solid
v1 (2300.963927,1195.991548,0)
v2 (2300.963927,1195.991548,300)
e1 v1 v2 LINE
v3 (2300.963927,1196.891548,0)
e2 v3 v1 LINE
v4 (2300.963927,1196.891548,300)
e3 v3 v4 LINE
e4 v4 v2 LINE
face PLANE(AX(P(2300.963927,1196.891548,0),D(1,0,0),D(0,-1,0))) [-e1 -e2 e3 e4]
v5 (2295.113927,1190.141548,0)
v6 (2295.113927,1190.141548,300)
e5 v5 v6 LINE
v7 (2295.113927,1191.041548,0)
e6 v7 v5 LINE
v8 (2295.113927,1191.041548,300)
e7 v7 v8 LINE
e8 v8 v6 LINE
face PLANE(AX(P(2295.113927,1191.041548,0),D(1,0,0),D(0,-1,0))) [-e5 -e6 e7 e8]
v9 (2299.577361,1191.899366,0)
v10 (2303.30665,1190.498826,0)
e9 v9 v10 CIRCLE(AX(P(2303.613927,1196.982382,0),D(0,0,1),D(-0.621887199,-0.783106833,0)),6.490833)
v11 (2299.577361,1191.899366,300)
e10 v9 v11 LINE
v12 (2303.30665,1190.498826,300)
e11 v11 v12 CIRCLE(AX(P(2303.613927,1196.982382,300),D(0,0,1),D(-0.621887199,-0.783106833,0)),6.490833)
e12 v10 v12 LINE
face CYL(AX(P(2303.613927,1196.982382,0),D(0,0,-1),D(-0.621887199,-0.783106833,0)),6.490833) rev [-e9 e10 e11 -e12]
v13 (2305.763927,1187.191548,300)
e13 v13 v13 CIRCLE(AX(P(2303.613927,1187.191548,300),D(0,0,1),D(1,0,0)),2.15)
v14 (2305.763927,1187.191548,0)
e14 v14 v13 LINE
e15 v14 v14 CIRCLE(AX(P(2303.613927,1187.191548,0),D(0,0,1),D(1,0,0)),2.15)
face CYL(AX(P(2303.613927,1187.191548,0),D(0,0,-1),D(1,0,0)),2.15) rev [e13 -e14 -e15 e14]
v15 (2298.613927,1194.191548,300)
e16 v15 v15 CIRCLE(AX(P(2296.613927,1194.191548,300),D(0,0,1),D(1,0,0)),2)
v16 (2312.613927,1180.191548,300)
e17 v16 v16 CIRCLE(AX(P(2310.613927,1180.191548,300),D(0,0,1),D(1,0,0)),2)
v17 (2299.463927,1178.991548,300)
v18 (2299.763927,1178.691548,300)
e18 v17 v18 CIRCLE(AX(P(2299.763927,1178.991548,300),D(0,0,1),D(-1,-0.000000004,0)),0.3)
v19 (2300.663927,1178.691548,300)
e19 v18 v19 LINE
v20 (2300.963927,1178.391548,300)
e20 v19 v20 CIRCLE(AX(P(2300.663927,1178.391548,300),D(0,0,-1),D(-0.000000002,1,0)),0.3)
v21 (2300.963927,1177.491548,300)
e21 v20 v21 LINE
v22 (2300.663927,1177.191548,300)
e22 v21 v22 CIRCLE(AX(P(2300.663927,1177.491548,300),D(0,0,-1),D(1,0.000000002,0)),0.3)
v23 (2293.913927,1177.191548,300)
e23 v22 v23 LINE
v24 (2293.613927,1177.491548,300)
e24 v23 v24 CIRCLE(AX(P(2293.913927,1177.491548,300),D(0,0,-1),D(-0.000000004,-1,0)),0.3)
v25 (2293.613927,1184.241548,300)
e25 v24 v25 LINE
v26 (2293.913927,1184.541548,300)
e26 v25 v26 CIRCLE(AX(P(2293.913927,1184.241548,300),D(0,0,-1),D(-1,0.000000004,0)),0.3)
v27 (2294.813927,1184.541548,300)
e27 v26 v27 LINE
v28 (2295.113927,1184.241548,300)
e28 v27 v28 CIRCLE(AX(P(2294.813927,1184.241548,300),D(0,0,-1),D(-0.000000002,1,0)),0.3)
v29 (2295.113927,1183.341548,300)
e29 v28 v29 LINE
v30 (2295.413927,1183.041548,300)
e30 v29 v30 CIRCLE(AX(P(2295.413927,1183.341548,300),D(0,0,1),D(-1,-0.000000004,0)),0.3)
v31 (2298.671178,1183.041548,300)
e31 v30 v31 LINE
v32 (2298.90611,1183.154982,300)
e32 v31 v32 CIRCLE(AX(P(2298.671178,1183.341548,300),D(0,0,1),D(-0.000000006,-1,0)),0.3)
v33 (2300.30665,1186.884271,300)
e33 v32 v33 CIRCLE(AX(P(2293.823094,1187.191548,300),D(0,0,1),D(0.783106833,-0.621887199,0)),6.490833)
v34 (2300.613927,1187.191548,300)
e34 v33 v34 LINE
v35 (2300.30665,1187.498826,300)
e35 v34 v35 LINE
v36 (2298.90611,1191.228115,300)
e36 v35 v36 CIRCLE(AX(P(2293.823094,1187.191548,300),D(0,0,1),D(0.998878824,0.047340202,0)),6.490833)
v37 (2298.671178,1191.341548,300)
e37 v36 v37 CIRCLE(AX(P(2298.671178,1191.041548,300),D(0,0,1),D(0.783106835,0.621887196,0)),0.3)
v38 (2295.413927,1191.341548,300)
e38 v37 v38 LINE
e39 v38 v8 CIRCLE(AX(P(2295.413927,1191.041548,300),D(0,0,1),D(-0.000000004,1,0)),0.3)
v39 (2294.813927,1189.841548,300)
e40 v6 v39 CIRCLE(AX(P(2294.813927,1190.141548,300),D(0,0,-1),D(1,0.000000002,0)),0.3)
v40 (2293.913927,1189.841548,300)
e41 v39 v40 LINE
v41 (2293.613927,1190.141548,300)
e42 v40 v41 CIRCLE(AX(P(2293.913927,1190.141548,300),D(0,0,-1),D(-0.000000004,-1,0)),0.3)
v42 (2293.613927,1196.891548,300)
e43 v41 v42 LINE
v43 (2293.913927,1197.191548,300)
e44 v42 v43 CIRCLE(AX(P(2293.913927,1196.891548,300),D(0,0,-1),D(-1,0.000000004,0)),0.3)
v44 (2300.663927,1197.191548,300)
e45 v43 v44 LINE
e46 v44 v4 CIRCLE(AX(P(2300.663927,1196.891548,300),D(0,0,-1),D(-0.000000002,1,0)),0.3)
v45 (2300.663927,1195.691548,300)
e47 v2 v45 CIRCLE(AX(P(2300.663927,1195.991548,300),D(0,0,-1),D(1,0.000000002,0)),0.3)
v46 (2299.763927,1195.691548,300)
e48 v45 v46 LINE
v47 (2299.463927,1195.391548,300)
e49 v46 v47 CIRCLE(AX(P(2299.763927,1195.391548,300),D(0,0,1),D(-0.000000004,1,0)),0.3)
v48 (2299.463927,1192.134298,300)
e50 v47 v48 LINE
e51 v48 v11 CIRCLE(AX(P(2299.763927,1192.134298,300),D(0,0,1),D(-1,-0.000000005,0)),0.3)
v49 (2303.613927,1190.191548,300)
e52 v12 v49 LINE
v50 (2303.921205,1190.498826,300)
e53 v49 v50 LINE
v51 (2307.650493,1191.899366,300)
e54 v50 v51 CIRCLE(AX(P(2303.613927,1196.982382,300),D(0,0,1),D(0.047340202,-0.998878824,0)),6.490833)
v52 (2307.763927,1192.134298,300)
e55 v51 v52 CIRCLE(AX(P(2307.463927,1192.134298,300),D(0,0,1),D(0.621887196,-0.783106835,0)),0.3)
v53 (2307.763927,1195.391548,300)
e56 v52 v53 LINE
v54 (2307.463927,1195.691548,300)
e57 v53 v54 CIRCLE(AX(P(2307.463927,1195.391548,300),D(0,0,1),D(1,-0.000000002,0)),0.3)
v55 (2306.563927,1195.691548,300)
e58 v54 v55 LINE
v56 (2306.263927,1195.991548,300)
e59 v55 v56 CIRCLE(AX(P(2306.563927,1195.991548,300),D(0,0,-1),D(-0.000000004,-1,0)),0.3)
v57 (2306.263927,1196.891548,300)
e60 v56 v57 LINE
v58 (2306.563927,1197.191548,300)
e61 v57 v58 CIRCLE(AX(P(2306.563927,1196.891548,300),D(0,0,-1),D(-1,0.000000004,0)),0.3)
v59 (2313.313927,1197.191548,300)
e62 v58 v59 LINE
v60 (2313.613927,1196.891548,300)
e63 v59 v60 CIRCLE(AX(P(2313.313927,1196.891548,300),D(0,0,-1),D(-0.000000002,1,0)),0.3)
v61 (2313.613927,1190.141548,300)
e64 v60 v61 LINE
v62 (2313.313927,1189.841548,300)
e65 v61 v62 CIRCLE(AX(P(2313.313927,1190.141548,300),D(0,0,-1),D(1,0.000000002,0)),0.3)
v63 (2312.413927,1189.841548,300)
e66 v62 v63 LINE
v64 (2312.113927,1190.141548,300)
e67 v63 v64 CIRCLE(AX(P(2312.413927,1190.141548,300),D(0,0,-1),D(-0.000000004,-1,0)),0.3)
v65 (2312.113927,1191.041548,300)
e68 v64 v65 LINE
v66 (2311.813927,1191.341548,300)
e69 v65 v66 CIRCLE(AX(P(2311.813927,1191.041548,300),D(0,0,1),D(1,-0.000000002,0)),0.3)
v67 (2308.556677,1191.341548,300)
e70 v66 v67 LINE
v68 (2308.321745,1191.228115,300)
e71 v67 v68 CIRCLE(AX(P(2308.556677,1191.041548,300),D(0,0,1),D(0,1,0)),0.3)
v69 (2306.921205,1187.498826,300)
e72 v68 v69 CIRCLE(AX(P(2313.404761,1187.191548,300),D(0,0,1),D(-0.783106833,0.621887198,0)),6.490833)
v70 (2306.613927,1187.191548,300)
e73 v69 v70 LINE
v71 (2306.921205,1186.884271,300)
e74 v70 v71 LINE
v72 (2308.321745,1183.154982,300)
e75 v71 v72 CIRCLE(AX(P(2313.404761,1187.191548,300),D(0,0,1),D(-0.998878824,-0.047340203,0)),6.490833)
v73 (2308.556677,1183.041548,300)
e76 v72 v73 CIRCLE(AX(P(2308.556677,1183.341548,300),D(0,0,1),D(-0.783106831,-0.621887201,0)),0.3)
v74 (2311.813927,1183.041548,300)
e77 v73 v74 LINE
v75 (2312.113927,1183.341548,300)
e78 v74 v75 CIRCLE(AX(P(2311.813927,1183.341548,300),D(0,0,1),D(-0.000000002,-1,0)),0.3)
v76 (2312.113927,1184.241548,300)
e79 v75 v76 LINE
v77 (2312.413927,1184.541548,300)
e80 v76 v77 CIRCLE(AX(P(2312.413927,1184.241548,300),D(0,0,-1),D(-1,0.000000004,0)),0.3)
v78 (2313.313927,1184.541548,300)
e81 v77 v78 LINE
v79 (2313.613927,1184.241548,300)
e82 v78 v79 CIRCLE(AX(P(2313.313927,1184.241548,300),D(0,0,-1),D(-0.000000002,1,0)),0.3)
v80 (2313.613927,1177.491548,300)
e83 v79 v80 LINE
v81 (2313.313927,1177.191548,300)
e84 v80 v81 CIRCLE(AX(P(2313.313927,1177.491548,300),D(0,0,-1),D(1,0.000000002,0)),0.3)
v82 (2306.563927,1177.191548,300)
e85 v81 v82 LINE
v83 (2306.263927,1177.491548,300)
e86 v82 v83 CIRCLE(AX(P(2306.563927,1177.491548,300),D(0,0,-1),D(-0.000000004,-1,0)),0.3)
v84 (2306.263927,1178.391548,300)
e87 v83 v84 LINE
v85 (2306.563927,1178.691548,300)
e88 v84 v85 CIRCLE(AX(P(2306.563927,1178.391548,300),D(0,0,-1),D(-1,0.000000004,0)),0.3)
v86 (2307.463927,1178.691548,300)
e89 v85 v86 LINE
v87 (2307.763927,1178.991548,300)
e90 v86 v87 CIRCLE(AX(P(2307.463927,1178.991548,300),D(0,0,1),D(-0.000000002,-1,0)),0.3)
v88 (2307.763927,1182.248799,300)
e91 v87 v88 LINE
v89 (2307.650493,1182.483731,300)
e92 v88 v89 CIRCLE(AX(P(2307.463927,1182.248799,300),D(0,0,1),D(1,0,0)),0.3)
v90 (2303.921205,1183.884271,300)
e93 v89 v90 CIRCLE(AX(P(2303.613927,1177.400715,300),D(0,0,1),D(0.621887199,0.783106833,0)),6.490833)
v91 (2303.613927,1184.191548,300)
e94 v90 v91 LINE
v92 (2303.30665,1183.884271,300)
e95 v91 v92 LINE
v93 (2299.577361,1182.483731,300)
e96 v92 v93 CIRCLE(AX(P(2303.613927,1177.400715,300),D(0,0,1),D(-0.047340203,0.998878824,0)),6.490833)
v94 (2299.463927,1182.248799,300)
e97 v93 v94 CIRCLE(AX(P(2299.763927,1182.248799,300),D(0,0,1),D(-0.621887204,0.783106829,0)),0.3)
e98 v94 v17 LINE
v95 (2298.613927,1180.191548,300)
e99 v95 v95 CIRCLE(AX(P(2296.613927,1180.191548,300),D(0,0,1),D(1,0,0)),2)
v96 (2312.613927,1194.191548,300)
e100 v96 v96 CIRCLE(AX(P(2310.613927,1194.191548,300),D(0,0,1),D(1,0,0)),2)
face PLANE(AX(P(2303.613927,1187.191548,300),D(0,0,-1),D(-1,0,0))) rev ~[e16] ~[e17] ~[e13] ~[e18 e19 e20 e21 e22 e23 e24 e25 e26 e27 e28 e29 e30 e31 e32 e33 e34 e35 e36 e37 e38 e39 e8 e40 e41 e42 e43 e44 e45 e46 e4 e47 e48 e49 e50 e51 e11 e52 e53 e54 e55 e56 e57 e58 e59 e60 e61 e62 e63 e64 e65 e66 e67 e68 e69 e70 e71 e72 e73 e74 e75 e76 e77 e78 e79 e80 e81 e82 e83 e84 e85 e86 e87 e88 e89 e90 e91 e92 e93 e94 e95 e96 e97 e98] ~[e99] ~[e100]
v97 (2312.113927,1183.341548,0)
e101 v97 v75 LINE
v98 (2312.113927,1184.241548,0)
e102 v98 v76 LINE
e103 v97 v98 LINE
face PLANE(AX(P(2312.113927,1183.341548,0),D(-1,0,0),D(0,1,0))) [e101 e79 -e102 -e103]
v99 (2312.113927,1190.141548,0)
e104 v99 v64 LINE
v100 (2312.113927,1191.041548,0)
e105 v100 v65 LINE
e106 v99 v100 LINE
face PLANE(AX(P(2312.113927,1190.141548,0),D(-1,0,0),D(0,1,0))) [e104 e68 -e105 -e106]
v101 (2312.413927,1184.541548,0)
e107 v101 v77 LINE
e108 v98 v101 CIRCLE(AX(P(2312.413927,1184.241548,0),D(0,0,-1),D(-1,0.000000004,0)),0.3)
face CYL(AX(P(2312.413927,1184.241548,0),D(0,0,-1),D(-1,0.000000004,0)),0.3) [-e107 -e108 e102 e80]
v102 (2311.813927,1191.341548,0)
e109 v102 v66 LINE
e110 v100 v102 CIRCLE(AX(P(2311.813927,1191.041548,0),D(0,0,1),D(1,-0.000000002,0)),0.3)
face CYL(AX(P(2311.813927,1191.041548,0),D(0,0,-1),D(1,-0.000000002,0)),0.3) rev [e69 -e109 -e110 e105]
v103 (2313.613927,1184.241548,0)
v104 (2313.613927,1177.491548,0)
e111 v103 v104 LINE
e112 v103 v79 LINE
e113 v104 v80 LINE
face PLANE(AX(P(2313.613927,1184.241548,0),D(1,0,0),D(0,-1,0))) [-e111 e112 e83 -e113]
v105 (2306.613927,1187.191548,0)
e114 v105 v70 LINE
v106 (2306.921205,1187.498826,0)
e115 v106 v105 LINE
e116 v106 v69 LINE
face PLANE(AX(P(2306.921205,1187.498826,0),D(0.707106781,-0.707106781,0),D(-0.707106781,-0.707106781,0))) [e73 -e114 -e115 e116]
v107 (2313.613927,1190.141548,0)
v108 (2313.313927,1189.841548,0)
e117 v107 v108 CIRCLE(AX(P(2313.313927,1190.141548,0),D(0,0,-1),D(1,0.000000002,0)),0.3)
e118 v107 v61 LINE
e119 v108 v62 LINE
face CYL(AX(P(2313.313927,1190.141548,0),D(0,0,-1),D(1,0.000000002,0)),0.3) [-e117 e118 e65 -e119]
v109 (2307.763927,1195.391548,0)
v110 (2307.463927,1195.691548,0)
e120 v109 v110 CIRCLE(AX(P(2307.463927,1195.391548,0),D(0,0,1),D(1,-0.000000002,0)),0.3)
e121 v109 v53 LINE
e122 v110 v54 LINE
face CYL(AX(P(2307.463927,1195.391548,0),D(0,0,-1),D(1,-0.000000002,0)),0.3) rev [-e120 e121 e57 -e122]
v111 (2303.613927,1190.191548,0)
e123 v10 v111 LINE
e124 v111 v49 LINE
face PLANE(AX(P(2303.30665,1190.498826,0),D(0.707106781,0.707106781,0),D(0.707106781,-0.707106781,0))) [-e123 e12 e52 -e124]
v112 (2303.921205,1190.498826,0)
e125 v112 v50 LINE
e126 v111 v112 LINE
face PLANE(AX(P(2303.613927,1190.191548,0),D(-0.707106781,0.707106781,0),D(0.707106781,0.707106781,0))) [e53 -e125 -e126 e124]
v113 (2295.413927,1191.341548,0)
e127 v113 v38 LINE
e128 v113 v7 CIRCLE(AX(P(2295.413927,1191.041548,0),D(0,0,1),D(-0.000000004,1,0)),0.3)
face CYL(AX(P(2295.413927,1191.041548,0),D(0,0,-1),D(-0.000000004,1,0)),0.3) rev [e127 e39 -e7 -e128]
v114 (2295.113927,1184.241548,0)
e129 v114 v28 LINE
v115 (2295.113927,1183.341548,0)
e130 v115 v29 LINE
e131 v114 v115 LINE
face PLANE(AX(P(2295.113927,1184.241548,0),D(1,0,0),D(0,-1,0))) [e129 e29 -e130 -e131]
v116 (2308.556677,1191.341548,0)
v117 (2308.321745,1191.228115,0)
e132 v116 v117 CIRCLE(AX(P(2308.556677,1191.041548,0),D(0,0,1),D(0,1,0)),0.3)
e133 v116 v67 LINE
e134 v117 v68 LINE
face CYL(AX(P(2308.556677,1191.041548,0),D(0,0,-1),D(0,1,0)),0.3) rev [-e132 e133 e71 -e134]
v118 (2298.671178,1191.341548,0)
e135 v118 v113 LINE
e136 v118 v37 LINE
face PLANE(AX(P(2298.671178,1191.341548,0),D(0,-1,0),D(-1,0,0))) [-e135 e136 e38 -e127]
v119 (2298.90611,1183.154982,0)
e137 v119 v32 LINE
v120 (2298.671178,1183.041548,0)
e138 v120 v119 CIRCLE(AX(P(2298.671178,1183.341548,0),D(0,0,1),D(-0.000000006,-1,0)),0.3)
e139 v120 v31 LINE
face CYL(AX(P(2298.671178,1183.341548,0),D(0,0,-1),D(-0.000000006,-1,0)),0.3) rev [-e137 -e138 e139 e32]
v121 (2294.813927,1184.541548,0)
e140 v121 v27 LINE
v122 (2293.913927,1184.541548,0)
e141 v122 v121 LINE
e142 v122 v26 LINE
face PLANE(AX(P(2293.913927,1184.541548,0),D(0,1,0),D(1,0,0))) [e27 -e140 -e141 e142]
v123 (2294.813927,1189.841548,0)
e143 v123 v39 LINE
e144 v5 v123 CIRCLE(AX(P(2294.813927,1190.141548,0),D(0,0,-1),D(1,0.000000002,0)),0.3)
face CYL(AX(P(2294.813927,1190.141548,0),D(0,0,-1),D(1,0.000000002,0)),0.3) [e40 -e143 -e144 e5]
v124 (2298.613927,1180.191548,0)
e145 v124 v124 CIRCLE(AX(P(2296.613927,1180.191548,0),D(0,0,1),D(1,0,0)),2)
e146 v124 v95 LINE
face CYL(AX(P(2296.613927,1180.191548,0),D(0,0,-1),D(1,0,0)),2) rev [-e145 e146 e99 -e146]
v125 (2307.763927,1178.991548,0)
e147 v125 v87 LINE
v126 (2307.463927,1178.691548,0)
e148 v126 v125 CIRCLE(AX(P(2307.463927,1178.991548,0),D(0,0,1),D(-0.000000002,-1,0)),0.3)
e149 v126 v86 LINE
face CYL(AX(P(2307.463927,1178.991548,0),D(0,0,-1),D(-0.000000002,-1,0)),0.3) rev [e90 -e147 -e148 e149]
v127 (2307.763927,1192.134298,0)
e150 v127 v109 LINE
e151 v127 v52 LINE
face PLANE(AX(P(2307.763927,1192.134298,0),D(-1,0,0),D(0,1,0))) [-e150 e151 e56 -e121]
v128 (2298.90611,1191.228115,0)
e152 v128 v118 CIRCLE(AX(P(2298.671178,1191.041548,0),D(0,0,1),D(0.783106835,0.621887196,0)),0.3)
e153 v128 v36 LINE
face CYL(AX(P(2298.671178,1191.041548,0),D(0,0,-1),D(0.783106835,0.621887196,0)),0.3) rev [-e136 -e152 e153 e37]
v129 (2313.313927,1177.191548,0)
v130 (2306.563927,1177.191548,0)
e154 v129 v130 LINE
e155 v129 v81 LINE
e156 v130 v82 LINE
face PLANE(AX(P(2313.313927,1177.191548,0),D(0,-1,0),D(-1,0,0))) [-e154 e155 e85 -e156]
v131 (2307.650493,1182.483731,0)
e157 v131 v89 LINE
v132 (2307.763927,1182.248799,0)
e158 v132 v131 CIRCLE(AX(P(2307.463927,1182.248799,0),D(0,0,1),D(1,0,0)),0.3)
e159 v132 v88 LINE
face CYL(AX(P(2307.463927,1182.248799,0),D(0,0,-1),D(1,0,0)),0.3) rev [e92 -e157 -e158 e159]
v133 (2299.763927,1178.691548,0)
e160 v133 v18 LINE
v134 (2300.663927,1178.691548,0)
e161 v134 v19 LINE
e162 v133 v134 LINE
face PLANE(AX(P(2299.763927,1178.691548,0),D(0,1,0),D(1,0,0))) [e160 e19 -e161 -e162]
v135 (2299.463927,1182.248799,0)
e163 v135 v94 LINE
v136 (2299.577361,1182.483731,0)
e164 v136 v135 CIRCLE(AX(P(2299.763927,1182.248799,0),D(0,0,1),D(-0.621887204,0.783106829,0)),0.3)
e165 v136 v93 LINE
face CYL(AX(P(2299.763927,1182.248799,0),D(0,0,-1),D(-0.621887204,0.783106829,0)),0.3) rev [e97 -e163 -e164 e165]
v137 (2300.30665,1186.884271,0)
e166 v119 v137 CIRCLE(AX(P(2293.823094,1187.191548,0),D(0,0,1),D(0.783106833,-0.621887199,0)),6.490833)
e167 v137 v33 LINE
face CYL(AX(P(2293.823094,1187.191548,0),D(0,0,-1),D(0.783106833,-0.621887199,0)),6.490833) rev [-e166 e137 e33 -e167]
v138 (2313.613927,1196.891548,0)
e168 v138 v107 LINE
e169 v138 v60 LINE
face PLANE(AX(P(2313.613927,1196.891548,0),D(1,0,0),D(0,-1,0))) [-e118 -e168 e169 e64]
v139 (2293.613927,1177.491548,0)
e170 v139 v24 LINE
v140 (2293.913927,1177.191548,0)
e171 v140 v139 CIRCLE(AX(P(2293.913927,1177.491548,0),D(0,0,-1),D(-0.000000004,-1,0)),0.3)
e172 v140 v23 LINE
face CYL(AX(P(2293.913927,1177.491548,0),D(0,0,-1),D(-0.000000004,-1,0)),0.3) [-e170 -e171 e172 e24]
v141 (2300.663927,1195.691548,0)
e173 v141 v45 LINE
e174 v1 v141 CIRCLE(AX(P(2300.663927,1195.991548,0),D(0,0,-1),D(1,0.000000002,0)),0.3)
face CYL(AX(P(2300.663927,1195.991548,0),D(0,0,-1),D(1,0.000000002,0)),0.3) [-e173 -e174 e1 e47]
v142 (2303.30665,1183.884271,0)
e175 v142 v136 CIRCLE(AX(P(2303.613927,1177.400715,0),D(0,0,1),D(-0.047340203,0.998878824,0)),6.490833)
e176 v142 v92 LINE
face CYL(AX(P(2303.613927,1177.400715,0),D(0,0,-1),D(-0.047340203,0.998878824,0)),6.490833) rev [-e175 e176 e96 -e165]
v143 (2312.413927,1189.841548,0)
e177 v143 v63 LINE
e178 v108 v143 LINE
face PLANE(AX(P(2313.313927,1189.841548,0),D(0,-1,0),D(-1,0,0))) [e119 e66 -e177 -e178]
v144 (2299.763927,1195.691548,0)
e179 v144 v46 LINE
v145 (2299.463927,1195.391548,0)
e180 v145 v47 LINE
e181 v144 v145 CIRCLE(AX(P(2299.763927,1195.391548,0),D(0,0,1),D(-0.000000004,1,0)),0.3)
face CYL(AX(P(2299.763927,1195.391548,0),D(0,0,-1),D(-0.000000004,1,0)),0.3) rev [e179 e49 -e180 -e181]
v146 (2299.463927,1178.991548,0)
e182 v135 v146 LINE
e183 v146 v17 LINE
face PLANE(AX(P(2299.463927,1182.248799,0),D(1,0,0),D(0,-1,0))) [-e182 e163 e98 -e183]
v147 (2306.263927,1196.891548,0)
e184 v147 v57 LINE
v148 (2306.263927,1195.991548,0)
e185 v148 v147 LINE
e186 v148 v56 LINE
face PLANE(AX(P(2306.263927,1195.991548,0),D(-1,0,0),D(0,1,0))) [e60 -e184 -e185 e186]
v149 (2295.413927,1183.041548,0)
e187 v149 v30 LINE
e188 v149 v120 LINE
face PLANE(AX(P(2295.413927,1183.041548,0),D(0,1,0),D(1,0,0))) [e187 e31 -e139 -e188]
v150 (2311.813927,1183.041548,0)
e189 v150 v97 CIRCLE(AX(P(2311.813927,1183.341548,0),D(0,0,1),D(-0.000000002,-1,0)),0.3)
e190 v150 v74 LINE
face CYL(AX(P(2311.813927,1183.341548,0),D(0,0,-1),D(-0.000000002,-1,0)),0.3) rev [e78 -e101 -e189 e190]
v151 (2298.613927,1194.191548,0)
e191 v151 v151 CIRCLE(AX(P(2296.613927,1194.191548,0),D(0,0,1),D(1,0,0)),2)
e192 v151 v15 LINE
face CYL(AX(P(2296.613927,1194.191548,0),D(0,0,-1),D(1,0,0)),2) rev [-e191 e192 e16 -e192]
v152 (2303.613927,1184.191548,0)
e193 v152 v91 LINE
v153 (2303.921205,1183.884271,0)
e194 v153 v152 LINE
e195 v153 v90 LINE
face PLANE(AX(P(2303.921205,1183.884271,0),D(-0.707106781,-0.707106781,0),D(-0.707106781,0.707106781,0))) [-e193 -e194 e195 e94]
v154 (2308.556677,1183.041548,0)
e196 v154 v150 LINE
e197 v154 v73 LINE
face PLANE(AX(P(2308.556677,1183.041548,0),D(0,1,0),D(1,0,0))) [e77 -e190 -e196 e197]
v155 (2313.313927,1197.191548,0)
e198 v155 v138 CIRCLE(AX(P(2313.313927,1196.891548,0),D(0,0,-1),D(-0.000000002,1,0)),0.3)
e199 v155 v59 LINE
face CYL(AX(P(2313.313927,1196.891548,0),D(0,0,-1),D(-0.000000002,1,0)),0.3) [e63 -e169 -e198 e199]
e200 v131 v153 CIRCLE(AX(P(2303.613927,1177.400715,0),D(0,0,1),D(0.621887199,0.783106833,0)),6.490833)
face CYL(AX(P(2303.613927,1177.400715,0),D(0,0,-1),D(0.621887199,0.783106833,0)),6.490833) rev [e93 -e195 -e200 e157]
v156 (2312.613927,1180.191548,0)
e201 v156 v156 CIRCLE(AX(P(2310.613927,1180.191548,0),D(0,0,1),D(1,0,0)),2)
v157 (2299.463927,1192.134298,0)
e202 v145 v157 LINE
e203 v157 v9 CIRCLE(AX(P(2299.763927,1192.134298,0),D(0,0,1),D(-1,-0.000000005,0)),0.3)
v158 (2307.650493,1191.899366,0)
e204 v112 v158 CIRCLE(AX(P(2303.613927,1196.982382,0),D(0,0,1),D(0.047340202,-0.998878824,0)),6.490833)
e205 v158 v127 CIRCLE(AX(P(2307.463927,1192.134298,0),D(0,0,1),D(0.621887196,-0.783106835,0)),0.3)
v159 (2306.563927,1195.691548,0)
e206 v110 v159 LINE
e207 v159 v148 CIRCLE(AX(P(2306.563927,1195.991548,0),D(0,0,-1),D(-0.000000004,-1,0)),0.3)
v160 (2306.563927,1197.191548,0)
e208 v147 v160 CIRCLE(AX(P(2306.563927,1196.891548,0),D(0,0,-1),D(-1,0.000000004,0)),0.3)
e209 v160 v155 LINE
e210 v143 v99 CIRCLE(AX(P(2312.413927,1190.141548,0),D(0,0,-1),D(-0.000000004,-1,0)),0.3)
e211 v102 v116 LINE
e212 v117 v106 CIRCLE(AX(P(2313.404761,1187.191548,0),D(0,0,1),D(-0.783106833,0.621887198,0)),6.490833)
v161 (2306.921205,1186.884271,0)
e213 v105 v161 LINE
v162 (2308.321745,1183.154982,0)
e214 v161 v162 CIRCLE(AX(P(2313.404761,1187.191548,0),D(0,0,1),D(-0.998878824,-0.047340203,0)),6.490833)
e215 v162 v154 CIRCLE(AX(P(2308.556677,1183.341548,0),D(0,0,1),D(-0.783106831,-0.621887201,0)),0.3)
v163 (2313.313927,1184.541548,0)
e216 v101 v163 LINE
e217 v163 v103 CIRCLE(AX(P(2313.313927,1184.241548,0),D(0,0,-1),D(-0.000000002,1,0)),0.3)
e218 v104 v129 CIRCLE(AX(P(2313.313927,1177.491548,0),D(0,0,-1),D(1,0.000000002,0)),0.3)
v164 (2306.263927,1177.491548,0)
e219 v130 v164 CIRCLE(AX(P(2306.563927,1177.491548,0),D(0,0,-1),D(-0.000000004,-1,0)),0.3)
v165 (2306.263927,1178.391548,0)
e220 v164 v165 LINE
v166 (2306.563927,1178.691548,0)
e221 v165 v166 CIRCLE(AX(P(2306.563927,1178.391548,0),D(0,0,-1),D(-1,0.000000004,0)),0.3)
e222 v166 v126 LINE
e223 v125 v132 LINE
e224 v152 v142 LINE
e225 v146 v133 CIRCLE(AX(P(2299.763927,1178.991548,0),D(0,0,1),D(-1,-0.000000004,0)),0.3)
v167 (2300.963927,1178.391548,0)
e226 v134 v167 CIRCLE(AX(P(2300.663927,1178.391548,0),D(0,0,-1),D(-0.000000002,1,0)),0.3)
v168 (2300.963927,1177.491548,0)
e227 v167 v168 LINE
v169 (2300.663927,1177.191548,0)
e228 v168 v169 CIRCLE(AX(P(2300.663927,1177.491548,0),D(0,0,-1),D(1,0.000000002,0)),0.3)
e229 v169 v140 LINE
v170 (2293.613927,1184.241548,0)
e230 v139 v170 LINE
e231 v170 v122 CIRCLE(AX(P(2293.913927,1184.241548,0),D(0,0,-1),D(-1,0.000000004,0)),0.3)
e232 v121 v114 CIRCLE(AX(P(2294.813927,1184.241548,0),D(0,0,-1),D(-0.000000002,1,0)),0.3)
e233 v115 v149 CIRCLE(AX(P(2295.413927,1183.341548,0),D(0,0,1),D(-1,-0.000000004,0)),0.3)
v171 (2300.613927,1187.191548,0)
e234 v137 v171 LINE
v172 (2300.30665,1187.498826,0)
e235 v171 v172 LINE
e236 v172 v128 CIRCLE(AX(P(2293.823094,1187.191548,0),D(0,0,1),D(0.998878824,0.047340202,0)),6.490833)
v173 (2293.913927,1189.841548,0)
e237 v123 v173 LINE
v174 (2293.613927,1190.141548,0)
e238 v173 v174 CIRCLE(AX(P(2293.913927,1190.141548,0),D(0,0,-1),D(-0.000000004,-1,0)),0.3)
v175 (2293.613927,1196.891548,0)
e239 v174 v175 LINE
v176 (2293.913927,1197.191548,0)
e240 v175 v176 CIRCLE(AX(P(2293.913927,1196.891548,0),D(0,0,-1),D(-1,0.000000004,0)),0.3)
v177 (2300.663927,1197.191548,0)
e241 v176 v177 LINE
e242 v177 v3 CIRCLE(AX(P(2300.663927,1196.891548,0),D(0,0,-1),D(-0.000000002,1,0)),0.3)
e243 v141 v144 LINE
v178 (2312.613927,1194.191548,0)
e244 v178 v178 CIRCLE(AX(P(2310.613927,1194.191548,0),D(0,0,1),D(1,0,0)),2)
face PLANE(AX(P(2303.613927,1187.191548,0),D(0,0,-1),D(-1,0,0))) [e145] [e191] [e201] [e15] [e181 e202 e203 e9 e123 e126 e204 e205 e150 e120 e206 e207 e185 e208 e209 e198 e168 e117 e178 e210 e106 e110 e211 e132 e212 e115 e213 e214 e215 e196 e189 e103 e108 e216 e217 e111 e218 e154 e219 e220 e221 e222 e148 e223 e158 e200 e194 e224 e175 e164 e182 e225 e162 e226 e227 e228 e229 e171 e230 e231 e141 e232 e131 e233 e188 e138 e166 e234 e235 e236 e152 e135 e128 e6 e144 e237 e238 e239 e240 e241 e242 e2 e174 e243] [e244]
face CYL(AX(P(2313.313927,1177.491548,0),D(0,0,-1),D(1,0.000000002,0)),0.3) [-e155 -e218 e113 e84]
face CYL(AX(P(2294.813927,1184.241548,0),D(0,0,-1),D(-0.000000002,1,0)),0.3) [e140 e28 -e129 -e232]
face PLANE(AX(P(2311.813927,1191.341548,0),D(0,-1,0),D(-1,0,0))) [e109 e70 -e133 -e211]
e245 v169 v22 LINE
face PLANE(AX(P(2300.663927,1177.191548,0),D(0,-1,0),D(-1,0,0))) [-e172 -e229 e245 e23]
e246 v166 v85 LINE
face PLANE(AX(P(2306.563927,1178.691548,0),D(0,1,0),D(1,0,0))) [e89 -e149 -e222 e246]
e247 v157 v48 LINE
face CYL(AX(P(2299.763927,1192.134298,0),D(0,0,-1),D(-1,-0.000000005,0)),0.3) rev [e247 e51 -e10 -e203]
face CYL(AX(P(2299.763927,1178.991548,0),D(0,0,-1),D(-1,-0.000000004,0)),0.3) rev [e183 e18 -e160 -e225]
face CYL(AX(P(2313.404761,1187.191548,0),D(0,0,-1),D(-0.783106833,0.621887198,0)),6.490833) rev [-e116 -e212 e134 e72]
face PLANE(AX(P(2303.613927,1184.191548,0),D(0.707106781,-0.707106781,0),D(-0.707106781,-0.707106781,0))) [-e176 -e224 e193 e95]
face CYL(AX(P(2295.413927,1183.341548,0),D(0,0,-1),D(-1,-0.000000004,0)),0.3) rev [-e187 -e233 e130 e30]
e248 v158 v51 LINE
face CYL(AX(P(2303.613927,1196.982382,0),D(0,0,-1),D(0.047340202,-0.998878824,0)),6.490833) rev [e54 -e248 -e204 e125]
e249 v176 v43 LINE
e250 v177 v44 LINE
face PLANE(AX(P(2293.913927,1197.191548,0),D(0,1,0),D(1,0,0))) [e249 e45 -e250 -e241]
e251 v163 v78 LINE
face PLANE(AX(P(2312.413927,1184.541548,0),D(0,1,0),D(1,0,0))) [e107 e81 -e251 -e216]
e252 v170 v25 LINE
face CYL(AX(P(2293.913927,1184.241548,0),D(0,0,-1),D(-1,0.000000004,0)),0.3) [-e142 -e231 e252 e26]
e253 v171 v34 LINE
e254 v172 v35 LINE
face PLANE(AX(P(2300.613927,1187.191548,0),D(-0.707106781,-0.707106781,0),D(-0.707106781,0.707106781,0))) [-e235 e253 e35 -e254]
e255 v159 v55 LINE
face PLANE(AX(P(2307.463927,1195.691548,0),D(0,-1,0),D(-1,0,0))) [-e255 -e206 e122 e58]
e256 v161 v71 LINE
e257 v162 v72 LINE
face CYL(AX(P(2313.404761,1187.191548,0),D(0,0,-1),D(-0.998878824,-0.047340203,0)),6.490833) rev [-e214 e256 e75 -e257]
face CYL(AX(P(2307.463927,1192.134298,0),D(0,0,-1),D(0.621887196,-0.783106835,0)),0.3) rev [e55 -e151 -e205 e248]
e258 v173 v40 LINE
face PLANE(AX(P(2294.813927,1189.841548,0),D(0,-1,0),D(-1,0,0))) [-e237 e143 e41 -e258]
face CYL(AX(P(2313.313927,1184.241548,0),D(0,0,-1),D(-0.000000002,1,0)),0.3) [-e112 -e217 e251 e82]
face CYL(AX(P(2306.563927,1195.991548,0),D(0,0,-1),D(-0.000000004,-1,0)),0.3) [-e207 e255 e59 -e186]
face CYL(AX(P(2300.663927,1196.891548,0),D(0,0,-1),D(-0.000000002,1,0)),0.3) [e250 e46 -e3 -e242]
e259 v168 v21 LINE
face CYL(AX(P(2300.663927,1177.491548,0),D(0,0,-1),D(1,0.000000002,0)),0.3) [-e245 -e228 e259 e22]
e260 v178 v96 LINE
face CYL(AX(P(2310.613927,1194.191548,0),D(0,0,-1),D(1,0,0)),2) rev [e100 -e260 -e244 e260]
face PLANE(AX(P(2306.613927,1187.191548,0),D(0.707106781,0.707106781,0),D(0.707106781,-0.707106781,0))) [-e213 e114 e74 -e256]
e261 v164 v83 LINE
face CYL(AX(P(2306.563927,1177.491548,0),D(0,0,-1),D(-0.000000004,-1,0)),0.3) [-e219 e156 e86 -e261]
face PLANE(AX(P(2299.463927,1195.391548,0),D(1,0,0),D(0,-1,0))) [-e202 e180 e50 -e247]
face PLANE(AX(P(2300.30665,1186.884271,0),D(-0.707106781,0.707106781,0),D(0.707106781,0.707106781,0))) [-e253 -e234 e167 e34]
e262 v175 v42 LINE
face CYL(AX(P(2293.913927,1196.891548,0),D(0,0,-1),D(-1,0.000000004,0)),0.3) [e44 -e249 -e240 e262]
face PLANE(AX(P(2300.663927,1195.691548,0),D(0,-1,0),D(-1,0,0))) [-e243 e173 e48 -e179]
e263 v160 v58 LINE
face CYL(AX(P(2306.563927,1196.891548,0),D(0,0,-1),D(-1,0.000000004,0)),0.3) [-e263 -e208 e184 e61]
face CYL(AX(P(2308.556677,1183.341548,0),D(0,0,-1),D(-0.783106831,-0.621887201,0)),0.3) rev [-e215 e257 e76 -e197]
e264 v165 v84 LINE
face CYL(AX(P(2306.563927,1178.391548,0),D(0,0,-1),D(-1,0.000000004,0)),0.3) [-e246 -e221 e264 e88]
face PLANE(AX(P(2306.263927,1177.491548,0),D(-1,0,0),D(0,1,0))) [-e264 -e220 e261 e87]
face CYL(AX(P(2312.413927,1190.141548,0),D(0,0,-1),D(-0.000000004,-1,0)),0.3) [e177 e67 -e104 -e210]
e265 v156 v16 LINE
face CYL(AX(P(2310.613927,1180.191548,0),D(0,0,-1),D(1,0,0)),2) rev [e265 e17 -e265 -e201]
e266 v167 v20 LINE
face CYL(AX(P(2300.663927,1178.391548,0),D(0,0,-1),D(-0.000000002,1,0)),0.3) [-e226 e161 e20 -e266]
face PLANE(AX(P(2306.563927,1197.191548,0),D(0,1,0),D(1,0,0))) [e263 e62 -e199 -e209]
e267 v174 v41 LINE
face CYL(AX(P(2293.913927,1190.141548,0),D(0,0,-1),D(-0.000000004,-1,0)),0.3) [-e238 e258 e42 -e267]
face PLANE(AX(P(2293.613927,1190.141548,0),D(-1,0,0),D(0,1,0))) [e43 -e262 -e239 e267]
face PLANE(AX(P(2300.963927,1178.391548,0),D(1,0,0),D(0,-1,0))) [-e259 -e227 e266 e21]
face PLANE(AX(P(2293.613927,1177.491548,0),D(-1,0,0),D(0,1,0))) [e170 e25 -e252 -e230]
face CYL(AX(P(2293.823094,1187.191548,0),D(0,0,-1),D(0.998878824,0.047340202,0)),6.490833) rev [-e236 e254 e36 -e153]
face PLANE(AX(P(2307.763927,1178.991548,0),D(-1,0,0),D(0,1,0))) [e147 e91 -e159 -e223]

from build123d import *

# Parameters (mm, degrees)
MODEL_R         = 2.15
MODEL_R_2       = 2
EXTRUDE_1_DEPTH = 300


with BuildPart() as part:
    # Model → 보스-돌출1 (new body)
    with BuildSketch(Plane.XY):
        with BuildLine():
            Line((2307.763927197, 1192.134297913), (2307.763927197, 1195.391548465))
            ThreePointArc((2307.763927197, 1195.391548465), (2307.676059232, 1195.603680499), (2307.463927197, 1195.691548465))
            Line((2307.463927197, 1195.691548465), (2306.563927197, 1195.691548465))
            ThreePointArc((2306.563927197, 1195.691548465), (2306.351795163, 1195.779416431), (2306.263927197, 1195.991548465))
            Line((2306.263927197, 1195.991548465), (2306.263927197, 1196.891548465))
            ThreePointArc((2306.263927197, 1196.891548465), (2306.351795163, 1197.103680499), (2306.563927197, 1197.191548465))
            Line((2306.563927197, 1197.191548465), (2313.313927197, 1197.191548465))
            ThreePointArc((2313.313927197, 1197.191548465), (2313.526059232, 1197.103680499), (2313.613927197, 1196.891548465))
            Line((2313.613927197, 1196.891548465), (2313.613927197, 1190.141548465))
            ThreePointArc((2313.613927197, 1190.141548465), (2313.526059232, 1189.929416431), (2313.313927197, 1189.841548465))
            Line((2313.313927197, 1189.841548465), (2312.413927197, 1189.841548465))
            ThreePointArc((2312.413927197, 1189.841548465), (2312.201795163, 1189.929416431), (2312.113927197, 1190.141548465))
            Line((2312.113927197, 1190.141548465), (2312.113927197, 1191.041548465))
            ThreePointArc((2312.113927197, 1191.041548465), (2312.026059232, 1191.253680499), (2311.813927197, 1191.341548465))
            Line((2311.813927197, 1191.341548465), (2308.556676645, 1191.341548465))
            ThreePointArc((2308.556676645, 1191.341548465), (2308.426234796, 1191.311705686), (2308.321744595, 1191.228114625))
            ThreePointArc((2308.321744595, 1191.228114625), (2307.328306374, 1189.47356999), (2306.921204563, 1187.498825831))
            Line((2306.921204563, 1187.498825831), (2306.613927197, 1187.191548465))
            Line((2306.613927197, 1187.191548465), (2306.921204563, 1186.884271099))
            ThreePointArc((2306.921204563, 1186.884271099), (2307.328306374, 1184.90952694), (2308.321744595, 1183.154982305))
            ThreePointArc((2308.321744595, 1183.154982305), (2308.426234796, 1183.071391244), (2308.556676645, 1183.041548465))
            Line((2308.556676645, 1183.041548465), (2311.813927197, 1183.041548465))
            ThreePointArc((2311.813927197, 1183.041548465), (2312.026059232, 1183.129416431), (2312.113927197, 1183.341548465))
            Line((2312.113927197, 1183.341548465), (2312.113927197, 1184.241548465))
            ThreePointArc((2312.113927197, 1184.241548465), (2312.201795163, 1184.453680499), (2312.413927197, 1184.541548465))
            Line((2312.413927197, 1184.541548465), (2313.313927197, 1184.541548465))
            ThreePointArc((2313.313927197, 1184.541548465), (2313.526059232, 1184.453680499), (2313.613927197, 1184.241548465))
            Line((2313.613927197, 1184.241548465), (2313.613927197, 1177.491548465))
            ThreePointArc((2313.613927197, 1177.491548465), (2313.526059232, 1177.279416431), (2313.313927197, 1177.191548465))
            Line((2313.313927197, 1177.191548465), (2306.563927197, 1177.191548465))
            ThreePointArc((2306.563927197, 1177.191548465), (2306.351795163, 1177.279416431), (2306.263927197, 1177.491548465))
            Line((2306.263927197, 1177.491548465), (2306.263927197, 1178.391548465))
            ThreePointArc((2306.263927197, 1178.391548465), (2306.351795163, 1178.603680499), (2306.563927197, 1178.691548465))
            Line((2306.563927197, 1178.691548465), (2307.463927197, 1178.691548465))
            ThreePointArc((2307.463927197, 1178.691548465), (2307.676059232, 1178.779416431), (2307.763927197, 1178.991548465))
            Line((2307.763927197, 1178.991548465), (2307.763927197, 1182.248799017))
            ThreePointArc((2307.763927197, 1182.248799017), (2307.734084418, 1182.379240866), (2307.650493357, 1182.483731067))
            ThreePointArc((2307.650493357, 1182.483731067), (2305.895948722, 1183.477169289), (2303.921204563, 1183.884271099))
            Line((2303.921204563, 1183.884271099), (2303.613927197, 1184.191548465))
            Line((2303.613927197, 1184.191548465), (2303.306649831, 1183.884271099))
            ThreePointArc((2303.306649831, 1183.884271099), (2301.331905673, 1183.477169289), (2299.577361038, 1182.483731067))
            ThreePointArc((2299.577361038, 1182.483731067), (2299.493769977, 1182.379240866), (2299.463927197, 1182.248799017))
            Line((2299.463927197, 1182.248799017), (2299.463927197, 1178.991548465))
            ThreePointArc((2299.463927197, 1178.991548465), (2299.551795163, 1178.779416431), (2299.763927197, 1178.691548465))
            Line((2299.763927197, 1178.691548465), (2300.663927197, 1178.691548465))
            ThreePointArc((2300.663927197, 1178.691548465), (2300.876059232, 1178.603680499), (2300.963927197, 1178.391548465))
            Line((2300.963927197, 1178.391548465), (2300.963927197, 1177.491548465))
            ThreePointArc((2300.963927197, 1177.491548465), (2300.876059232, 1177.279416431), (2300.663927197, 1177.191548465))
            Line((2300.663927197, 1177.191548465), (2293.913927197, 1177.191548465))
            ThreePointArc((2293.913927197, 1177.191548465), (2293.701795163, 1177.279416431), (2293.613927197, 1177.491548465))
            Line((2293.613927197, 1177.491548465), (2293.613927197, 1184.241548465))
            ThreePointArc((2293.613927197, 1184.241548465), (2293.701795163, 1184.453680499), (2293.913927197, 1184.541548465))
            Line((2293.913927197, 1184.541548465), (2294.813927197, 1184.541548465))
            ThreePointArc((2294.813927197, 1184.541548465), (2295.026059232, 1184.453680499), (2295.113927197, 1184.241548465))
            Line((2295.113927197, 1184.241548465), (2295.113927197, 1183.341548465))
            ThreePointArc((2295.113927197, 1183.341548465), (2295.201795163, 1183.129416431), (2295.413927197, 1183.041548465))
            Line((2295.413927197, 1183.041548465), (2298.671177749, 1183.041548465))
            ThreePointArc((2298.671177749, 1183.041548465), (2298.801619599, 1183.071391244), (2298.906109799, 1183.154982305))
            ThreePointArc((2298.906109799, 1183.154982305), (2299.899548021, 1184.90952694), (2300.306649831, 1186.884271099))
            Line((2300.306649831, 1186.884271099), (2300.613927197, 1187.191548465))
            Line((2300.613927197, 1187.191548465), (2300.306649831, 1187.498825831))
            ThreePointArc((2300.306649831, 1187.498825831), (2299.899548021, 1189.47356999), (2298.906109799, 1191.228114625))
            ThreePointArc((2298.906109799, 1191.228114625), (2298.801619599, 1191.311705686), (2298.671177749, 1191.341548465))
            Line((2298.671177749, 1191.341548465), (2295.413927197, 1191.341548465))
            ThreePointArc((2295.413927197, 1191.341548465), (2295.201795163, 1191.253680499), (2295.113927197, 1191.041548465))
            Line((2295.113927197, 1191.041548465), (2295.113927197, 1190.141548465))
            ThreePointArc((2295.113927197, 1190.141548465), (2295.026059232, 1189.929416431), (2294.813927197, 1189.841548465))
            Line((2294.813927197, 1189.841548465), (2293.913927197, 1189.841548465))
            ThreePointArc((2293.913927197, 1189.841548465), (2293.701795163, 1189.929416431), (2293.613927197, 1190.141548465))
            Line((2293.613927197, 1190.141548465), (2293.613927197, 1196.891548465))
            ThreePointArc((2293.613927197, 1196.891548465), (2293.701795163, 1197.103680499), (2293.913927197, 1197.191548465))
            Line((2293.913927197, 1197.191548465), (2300.663927197, 1197.191548465))
            ThreePointArc((2300.663927197, 1197.191548465), (2300.876059232, 1197.103680499), (2300.963927197, 1196.891548465))
            Line((2300.963927197, 1196.891548465), (2300.963927197, 1195.991548465))
            ThreePointArc((2300.963927197, 1195.991548465), (2300.876059232, 1195.779416431), (2300.663927197, 1195.691548465))
            Line((2300.663927197, 1195.691548465), (2299.763927197, 1195.691548465))
            ThreePointArc((2299.763927197, 1195.691548465), (2299.551795163, 1195.603680499), (2299.463927197, 1195.391548465))
            Line((2299.463927197, 1195.391548465), (2299.463927197, 1192.134297913))
            ThreePointArc((2299.463927197, 1192.134297913), (2299.493769977, 1192.003856063), (2299.577361038, 1191.899365863))
            ThreePointArc((2299.577361038, 1191.899365863), (2301.331905673, 1190.905927641), (2303.306649831, 1190.498825831))
            Line((2303.306649831, 1190.498825831), (2303.613927197, 1190.191548465))
            Line((2303.613927197, 1190.191548465), (2303.921204563, 1190.498825831))
            ThreePointArc((2303.921204563, 1190.498825831), (2305.895948722, 1190.905927641), (2307.650493357, 1191.899365863))
            ThreePointArc((2307.650493357, 1191.899365863), (2307.734084418, 1192.003856063), (2307.763927197, 1192.134297913))
        make_face()
        with Locations((2303.613927197, 1187.191548465)):
            Circle(MODEL_R, mode=Mode.SUBTRACT)
        with Locations((2296.613927197, 1194.191548465)):
            Circle(MODEL_R_2, mode=Mode.SUBTRACT)
        with Locations((2296.613927197, 1180.191548465)):
            Circle(MODEL_R_2, mode=Mode.SUBTRACT)
        with Locations((2310.613927197, 1194.191548465)):
            Circle(MODEL_R_2, mode=Mode.SUBTRACT)
        with Locations((2310.613927197, 1180.191548465)):
            Circle(MODEL_R_2, mode=Mode.SUBTRACT)
    extrude(amount=EXTRUDE_1_DEPTH)


solid = part.part
